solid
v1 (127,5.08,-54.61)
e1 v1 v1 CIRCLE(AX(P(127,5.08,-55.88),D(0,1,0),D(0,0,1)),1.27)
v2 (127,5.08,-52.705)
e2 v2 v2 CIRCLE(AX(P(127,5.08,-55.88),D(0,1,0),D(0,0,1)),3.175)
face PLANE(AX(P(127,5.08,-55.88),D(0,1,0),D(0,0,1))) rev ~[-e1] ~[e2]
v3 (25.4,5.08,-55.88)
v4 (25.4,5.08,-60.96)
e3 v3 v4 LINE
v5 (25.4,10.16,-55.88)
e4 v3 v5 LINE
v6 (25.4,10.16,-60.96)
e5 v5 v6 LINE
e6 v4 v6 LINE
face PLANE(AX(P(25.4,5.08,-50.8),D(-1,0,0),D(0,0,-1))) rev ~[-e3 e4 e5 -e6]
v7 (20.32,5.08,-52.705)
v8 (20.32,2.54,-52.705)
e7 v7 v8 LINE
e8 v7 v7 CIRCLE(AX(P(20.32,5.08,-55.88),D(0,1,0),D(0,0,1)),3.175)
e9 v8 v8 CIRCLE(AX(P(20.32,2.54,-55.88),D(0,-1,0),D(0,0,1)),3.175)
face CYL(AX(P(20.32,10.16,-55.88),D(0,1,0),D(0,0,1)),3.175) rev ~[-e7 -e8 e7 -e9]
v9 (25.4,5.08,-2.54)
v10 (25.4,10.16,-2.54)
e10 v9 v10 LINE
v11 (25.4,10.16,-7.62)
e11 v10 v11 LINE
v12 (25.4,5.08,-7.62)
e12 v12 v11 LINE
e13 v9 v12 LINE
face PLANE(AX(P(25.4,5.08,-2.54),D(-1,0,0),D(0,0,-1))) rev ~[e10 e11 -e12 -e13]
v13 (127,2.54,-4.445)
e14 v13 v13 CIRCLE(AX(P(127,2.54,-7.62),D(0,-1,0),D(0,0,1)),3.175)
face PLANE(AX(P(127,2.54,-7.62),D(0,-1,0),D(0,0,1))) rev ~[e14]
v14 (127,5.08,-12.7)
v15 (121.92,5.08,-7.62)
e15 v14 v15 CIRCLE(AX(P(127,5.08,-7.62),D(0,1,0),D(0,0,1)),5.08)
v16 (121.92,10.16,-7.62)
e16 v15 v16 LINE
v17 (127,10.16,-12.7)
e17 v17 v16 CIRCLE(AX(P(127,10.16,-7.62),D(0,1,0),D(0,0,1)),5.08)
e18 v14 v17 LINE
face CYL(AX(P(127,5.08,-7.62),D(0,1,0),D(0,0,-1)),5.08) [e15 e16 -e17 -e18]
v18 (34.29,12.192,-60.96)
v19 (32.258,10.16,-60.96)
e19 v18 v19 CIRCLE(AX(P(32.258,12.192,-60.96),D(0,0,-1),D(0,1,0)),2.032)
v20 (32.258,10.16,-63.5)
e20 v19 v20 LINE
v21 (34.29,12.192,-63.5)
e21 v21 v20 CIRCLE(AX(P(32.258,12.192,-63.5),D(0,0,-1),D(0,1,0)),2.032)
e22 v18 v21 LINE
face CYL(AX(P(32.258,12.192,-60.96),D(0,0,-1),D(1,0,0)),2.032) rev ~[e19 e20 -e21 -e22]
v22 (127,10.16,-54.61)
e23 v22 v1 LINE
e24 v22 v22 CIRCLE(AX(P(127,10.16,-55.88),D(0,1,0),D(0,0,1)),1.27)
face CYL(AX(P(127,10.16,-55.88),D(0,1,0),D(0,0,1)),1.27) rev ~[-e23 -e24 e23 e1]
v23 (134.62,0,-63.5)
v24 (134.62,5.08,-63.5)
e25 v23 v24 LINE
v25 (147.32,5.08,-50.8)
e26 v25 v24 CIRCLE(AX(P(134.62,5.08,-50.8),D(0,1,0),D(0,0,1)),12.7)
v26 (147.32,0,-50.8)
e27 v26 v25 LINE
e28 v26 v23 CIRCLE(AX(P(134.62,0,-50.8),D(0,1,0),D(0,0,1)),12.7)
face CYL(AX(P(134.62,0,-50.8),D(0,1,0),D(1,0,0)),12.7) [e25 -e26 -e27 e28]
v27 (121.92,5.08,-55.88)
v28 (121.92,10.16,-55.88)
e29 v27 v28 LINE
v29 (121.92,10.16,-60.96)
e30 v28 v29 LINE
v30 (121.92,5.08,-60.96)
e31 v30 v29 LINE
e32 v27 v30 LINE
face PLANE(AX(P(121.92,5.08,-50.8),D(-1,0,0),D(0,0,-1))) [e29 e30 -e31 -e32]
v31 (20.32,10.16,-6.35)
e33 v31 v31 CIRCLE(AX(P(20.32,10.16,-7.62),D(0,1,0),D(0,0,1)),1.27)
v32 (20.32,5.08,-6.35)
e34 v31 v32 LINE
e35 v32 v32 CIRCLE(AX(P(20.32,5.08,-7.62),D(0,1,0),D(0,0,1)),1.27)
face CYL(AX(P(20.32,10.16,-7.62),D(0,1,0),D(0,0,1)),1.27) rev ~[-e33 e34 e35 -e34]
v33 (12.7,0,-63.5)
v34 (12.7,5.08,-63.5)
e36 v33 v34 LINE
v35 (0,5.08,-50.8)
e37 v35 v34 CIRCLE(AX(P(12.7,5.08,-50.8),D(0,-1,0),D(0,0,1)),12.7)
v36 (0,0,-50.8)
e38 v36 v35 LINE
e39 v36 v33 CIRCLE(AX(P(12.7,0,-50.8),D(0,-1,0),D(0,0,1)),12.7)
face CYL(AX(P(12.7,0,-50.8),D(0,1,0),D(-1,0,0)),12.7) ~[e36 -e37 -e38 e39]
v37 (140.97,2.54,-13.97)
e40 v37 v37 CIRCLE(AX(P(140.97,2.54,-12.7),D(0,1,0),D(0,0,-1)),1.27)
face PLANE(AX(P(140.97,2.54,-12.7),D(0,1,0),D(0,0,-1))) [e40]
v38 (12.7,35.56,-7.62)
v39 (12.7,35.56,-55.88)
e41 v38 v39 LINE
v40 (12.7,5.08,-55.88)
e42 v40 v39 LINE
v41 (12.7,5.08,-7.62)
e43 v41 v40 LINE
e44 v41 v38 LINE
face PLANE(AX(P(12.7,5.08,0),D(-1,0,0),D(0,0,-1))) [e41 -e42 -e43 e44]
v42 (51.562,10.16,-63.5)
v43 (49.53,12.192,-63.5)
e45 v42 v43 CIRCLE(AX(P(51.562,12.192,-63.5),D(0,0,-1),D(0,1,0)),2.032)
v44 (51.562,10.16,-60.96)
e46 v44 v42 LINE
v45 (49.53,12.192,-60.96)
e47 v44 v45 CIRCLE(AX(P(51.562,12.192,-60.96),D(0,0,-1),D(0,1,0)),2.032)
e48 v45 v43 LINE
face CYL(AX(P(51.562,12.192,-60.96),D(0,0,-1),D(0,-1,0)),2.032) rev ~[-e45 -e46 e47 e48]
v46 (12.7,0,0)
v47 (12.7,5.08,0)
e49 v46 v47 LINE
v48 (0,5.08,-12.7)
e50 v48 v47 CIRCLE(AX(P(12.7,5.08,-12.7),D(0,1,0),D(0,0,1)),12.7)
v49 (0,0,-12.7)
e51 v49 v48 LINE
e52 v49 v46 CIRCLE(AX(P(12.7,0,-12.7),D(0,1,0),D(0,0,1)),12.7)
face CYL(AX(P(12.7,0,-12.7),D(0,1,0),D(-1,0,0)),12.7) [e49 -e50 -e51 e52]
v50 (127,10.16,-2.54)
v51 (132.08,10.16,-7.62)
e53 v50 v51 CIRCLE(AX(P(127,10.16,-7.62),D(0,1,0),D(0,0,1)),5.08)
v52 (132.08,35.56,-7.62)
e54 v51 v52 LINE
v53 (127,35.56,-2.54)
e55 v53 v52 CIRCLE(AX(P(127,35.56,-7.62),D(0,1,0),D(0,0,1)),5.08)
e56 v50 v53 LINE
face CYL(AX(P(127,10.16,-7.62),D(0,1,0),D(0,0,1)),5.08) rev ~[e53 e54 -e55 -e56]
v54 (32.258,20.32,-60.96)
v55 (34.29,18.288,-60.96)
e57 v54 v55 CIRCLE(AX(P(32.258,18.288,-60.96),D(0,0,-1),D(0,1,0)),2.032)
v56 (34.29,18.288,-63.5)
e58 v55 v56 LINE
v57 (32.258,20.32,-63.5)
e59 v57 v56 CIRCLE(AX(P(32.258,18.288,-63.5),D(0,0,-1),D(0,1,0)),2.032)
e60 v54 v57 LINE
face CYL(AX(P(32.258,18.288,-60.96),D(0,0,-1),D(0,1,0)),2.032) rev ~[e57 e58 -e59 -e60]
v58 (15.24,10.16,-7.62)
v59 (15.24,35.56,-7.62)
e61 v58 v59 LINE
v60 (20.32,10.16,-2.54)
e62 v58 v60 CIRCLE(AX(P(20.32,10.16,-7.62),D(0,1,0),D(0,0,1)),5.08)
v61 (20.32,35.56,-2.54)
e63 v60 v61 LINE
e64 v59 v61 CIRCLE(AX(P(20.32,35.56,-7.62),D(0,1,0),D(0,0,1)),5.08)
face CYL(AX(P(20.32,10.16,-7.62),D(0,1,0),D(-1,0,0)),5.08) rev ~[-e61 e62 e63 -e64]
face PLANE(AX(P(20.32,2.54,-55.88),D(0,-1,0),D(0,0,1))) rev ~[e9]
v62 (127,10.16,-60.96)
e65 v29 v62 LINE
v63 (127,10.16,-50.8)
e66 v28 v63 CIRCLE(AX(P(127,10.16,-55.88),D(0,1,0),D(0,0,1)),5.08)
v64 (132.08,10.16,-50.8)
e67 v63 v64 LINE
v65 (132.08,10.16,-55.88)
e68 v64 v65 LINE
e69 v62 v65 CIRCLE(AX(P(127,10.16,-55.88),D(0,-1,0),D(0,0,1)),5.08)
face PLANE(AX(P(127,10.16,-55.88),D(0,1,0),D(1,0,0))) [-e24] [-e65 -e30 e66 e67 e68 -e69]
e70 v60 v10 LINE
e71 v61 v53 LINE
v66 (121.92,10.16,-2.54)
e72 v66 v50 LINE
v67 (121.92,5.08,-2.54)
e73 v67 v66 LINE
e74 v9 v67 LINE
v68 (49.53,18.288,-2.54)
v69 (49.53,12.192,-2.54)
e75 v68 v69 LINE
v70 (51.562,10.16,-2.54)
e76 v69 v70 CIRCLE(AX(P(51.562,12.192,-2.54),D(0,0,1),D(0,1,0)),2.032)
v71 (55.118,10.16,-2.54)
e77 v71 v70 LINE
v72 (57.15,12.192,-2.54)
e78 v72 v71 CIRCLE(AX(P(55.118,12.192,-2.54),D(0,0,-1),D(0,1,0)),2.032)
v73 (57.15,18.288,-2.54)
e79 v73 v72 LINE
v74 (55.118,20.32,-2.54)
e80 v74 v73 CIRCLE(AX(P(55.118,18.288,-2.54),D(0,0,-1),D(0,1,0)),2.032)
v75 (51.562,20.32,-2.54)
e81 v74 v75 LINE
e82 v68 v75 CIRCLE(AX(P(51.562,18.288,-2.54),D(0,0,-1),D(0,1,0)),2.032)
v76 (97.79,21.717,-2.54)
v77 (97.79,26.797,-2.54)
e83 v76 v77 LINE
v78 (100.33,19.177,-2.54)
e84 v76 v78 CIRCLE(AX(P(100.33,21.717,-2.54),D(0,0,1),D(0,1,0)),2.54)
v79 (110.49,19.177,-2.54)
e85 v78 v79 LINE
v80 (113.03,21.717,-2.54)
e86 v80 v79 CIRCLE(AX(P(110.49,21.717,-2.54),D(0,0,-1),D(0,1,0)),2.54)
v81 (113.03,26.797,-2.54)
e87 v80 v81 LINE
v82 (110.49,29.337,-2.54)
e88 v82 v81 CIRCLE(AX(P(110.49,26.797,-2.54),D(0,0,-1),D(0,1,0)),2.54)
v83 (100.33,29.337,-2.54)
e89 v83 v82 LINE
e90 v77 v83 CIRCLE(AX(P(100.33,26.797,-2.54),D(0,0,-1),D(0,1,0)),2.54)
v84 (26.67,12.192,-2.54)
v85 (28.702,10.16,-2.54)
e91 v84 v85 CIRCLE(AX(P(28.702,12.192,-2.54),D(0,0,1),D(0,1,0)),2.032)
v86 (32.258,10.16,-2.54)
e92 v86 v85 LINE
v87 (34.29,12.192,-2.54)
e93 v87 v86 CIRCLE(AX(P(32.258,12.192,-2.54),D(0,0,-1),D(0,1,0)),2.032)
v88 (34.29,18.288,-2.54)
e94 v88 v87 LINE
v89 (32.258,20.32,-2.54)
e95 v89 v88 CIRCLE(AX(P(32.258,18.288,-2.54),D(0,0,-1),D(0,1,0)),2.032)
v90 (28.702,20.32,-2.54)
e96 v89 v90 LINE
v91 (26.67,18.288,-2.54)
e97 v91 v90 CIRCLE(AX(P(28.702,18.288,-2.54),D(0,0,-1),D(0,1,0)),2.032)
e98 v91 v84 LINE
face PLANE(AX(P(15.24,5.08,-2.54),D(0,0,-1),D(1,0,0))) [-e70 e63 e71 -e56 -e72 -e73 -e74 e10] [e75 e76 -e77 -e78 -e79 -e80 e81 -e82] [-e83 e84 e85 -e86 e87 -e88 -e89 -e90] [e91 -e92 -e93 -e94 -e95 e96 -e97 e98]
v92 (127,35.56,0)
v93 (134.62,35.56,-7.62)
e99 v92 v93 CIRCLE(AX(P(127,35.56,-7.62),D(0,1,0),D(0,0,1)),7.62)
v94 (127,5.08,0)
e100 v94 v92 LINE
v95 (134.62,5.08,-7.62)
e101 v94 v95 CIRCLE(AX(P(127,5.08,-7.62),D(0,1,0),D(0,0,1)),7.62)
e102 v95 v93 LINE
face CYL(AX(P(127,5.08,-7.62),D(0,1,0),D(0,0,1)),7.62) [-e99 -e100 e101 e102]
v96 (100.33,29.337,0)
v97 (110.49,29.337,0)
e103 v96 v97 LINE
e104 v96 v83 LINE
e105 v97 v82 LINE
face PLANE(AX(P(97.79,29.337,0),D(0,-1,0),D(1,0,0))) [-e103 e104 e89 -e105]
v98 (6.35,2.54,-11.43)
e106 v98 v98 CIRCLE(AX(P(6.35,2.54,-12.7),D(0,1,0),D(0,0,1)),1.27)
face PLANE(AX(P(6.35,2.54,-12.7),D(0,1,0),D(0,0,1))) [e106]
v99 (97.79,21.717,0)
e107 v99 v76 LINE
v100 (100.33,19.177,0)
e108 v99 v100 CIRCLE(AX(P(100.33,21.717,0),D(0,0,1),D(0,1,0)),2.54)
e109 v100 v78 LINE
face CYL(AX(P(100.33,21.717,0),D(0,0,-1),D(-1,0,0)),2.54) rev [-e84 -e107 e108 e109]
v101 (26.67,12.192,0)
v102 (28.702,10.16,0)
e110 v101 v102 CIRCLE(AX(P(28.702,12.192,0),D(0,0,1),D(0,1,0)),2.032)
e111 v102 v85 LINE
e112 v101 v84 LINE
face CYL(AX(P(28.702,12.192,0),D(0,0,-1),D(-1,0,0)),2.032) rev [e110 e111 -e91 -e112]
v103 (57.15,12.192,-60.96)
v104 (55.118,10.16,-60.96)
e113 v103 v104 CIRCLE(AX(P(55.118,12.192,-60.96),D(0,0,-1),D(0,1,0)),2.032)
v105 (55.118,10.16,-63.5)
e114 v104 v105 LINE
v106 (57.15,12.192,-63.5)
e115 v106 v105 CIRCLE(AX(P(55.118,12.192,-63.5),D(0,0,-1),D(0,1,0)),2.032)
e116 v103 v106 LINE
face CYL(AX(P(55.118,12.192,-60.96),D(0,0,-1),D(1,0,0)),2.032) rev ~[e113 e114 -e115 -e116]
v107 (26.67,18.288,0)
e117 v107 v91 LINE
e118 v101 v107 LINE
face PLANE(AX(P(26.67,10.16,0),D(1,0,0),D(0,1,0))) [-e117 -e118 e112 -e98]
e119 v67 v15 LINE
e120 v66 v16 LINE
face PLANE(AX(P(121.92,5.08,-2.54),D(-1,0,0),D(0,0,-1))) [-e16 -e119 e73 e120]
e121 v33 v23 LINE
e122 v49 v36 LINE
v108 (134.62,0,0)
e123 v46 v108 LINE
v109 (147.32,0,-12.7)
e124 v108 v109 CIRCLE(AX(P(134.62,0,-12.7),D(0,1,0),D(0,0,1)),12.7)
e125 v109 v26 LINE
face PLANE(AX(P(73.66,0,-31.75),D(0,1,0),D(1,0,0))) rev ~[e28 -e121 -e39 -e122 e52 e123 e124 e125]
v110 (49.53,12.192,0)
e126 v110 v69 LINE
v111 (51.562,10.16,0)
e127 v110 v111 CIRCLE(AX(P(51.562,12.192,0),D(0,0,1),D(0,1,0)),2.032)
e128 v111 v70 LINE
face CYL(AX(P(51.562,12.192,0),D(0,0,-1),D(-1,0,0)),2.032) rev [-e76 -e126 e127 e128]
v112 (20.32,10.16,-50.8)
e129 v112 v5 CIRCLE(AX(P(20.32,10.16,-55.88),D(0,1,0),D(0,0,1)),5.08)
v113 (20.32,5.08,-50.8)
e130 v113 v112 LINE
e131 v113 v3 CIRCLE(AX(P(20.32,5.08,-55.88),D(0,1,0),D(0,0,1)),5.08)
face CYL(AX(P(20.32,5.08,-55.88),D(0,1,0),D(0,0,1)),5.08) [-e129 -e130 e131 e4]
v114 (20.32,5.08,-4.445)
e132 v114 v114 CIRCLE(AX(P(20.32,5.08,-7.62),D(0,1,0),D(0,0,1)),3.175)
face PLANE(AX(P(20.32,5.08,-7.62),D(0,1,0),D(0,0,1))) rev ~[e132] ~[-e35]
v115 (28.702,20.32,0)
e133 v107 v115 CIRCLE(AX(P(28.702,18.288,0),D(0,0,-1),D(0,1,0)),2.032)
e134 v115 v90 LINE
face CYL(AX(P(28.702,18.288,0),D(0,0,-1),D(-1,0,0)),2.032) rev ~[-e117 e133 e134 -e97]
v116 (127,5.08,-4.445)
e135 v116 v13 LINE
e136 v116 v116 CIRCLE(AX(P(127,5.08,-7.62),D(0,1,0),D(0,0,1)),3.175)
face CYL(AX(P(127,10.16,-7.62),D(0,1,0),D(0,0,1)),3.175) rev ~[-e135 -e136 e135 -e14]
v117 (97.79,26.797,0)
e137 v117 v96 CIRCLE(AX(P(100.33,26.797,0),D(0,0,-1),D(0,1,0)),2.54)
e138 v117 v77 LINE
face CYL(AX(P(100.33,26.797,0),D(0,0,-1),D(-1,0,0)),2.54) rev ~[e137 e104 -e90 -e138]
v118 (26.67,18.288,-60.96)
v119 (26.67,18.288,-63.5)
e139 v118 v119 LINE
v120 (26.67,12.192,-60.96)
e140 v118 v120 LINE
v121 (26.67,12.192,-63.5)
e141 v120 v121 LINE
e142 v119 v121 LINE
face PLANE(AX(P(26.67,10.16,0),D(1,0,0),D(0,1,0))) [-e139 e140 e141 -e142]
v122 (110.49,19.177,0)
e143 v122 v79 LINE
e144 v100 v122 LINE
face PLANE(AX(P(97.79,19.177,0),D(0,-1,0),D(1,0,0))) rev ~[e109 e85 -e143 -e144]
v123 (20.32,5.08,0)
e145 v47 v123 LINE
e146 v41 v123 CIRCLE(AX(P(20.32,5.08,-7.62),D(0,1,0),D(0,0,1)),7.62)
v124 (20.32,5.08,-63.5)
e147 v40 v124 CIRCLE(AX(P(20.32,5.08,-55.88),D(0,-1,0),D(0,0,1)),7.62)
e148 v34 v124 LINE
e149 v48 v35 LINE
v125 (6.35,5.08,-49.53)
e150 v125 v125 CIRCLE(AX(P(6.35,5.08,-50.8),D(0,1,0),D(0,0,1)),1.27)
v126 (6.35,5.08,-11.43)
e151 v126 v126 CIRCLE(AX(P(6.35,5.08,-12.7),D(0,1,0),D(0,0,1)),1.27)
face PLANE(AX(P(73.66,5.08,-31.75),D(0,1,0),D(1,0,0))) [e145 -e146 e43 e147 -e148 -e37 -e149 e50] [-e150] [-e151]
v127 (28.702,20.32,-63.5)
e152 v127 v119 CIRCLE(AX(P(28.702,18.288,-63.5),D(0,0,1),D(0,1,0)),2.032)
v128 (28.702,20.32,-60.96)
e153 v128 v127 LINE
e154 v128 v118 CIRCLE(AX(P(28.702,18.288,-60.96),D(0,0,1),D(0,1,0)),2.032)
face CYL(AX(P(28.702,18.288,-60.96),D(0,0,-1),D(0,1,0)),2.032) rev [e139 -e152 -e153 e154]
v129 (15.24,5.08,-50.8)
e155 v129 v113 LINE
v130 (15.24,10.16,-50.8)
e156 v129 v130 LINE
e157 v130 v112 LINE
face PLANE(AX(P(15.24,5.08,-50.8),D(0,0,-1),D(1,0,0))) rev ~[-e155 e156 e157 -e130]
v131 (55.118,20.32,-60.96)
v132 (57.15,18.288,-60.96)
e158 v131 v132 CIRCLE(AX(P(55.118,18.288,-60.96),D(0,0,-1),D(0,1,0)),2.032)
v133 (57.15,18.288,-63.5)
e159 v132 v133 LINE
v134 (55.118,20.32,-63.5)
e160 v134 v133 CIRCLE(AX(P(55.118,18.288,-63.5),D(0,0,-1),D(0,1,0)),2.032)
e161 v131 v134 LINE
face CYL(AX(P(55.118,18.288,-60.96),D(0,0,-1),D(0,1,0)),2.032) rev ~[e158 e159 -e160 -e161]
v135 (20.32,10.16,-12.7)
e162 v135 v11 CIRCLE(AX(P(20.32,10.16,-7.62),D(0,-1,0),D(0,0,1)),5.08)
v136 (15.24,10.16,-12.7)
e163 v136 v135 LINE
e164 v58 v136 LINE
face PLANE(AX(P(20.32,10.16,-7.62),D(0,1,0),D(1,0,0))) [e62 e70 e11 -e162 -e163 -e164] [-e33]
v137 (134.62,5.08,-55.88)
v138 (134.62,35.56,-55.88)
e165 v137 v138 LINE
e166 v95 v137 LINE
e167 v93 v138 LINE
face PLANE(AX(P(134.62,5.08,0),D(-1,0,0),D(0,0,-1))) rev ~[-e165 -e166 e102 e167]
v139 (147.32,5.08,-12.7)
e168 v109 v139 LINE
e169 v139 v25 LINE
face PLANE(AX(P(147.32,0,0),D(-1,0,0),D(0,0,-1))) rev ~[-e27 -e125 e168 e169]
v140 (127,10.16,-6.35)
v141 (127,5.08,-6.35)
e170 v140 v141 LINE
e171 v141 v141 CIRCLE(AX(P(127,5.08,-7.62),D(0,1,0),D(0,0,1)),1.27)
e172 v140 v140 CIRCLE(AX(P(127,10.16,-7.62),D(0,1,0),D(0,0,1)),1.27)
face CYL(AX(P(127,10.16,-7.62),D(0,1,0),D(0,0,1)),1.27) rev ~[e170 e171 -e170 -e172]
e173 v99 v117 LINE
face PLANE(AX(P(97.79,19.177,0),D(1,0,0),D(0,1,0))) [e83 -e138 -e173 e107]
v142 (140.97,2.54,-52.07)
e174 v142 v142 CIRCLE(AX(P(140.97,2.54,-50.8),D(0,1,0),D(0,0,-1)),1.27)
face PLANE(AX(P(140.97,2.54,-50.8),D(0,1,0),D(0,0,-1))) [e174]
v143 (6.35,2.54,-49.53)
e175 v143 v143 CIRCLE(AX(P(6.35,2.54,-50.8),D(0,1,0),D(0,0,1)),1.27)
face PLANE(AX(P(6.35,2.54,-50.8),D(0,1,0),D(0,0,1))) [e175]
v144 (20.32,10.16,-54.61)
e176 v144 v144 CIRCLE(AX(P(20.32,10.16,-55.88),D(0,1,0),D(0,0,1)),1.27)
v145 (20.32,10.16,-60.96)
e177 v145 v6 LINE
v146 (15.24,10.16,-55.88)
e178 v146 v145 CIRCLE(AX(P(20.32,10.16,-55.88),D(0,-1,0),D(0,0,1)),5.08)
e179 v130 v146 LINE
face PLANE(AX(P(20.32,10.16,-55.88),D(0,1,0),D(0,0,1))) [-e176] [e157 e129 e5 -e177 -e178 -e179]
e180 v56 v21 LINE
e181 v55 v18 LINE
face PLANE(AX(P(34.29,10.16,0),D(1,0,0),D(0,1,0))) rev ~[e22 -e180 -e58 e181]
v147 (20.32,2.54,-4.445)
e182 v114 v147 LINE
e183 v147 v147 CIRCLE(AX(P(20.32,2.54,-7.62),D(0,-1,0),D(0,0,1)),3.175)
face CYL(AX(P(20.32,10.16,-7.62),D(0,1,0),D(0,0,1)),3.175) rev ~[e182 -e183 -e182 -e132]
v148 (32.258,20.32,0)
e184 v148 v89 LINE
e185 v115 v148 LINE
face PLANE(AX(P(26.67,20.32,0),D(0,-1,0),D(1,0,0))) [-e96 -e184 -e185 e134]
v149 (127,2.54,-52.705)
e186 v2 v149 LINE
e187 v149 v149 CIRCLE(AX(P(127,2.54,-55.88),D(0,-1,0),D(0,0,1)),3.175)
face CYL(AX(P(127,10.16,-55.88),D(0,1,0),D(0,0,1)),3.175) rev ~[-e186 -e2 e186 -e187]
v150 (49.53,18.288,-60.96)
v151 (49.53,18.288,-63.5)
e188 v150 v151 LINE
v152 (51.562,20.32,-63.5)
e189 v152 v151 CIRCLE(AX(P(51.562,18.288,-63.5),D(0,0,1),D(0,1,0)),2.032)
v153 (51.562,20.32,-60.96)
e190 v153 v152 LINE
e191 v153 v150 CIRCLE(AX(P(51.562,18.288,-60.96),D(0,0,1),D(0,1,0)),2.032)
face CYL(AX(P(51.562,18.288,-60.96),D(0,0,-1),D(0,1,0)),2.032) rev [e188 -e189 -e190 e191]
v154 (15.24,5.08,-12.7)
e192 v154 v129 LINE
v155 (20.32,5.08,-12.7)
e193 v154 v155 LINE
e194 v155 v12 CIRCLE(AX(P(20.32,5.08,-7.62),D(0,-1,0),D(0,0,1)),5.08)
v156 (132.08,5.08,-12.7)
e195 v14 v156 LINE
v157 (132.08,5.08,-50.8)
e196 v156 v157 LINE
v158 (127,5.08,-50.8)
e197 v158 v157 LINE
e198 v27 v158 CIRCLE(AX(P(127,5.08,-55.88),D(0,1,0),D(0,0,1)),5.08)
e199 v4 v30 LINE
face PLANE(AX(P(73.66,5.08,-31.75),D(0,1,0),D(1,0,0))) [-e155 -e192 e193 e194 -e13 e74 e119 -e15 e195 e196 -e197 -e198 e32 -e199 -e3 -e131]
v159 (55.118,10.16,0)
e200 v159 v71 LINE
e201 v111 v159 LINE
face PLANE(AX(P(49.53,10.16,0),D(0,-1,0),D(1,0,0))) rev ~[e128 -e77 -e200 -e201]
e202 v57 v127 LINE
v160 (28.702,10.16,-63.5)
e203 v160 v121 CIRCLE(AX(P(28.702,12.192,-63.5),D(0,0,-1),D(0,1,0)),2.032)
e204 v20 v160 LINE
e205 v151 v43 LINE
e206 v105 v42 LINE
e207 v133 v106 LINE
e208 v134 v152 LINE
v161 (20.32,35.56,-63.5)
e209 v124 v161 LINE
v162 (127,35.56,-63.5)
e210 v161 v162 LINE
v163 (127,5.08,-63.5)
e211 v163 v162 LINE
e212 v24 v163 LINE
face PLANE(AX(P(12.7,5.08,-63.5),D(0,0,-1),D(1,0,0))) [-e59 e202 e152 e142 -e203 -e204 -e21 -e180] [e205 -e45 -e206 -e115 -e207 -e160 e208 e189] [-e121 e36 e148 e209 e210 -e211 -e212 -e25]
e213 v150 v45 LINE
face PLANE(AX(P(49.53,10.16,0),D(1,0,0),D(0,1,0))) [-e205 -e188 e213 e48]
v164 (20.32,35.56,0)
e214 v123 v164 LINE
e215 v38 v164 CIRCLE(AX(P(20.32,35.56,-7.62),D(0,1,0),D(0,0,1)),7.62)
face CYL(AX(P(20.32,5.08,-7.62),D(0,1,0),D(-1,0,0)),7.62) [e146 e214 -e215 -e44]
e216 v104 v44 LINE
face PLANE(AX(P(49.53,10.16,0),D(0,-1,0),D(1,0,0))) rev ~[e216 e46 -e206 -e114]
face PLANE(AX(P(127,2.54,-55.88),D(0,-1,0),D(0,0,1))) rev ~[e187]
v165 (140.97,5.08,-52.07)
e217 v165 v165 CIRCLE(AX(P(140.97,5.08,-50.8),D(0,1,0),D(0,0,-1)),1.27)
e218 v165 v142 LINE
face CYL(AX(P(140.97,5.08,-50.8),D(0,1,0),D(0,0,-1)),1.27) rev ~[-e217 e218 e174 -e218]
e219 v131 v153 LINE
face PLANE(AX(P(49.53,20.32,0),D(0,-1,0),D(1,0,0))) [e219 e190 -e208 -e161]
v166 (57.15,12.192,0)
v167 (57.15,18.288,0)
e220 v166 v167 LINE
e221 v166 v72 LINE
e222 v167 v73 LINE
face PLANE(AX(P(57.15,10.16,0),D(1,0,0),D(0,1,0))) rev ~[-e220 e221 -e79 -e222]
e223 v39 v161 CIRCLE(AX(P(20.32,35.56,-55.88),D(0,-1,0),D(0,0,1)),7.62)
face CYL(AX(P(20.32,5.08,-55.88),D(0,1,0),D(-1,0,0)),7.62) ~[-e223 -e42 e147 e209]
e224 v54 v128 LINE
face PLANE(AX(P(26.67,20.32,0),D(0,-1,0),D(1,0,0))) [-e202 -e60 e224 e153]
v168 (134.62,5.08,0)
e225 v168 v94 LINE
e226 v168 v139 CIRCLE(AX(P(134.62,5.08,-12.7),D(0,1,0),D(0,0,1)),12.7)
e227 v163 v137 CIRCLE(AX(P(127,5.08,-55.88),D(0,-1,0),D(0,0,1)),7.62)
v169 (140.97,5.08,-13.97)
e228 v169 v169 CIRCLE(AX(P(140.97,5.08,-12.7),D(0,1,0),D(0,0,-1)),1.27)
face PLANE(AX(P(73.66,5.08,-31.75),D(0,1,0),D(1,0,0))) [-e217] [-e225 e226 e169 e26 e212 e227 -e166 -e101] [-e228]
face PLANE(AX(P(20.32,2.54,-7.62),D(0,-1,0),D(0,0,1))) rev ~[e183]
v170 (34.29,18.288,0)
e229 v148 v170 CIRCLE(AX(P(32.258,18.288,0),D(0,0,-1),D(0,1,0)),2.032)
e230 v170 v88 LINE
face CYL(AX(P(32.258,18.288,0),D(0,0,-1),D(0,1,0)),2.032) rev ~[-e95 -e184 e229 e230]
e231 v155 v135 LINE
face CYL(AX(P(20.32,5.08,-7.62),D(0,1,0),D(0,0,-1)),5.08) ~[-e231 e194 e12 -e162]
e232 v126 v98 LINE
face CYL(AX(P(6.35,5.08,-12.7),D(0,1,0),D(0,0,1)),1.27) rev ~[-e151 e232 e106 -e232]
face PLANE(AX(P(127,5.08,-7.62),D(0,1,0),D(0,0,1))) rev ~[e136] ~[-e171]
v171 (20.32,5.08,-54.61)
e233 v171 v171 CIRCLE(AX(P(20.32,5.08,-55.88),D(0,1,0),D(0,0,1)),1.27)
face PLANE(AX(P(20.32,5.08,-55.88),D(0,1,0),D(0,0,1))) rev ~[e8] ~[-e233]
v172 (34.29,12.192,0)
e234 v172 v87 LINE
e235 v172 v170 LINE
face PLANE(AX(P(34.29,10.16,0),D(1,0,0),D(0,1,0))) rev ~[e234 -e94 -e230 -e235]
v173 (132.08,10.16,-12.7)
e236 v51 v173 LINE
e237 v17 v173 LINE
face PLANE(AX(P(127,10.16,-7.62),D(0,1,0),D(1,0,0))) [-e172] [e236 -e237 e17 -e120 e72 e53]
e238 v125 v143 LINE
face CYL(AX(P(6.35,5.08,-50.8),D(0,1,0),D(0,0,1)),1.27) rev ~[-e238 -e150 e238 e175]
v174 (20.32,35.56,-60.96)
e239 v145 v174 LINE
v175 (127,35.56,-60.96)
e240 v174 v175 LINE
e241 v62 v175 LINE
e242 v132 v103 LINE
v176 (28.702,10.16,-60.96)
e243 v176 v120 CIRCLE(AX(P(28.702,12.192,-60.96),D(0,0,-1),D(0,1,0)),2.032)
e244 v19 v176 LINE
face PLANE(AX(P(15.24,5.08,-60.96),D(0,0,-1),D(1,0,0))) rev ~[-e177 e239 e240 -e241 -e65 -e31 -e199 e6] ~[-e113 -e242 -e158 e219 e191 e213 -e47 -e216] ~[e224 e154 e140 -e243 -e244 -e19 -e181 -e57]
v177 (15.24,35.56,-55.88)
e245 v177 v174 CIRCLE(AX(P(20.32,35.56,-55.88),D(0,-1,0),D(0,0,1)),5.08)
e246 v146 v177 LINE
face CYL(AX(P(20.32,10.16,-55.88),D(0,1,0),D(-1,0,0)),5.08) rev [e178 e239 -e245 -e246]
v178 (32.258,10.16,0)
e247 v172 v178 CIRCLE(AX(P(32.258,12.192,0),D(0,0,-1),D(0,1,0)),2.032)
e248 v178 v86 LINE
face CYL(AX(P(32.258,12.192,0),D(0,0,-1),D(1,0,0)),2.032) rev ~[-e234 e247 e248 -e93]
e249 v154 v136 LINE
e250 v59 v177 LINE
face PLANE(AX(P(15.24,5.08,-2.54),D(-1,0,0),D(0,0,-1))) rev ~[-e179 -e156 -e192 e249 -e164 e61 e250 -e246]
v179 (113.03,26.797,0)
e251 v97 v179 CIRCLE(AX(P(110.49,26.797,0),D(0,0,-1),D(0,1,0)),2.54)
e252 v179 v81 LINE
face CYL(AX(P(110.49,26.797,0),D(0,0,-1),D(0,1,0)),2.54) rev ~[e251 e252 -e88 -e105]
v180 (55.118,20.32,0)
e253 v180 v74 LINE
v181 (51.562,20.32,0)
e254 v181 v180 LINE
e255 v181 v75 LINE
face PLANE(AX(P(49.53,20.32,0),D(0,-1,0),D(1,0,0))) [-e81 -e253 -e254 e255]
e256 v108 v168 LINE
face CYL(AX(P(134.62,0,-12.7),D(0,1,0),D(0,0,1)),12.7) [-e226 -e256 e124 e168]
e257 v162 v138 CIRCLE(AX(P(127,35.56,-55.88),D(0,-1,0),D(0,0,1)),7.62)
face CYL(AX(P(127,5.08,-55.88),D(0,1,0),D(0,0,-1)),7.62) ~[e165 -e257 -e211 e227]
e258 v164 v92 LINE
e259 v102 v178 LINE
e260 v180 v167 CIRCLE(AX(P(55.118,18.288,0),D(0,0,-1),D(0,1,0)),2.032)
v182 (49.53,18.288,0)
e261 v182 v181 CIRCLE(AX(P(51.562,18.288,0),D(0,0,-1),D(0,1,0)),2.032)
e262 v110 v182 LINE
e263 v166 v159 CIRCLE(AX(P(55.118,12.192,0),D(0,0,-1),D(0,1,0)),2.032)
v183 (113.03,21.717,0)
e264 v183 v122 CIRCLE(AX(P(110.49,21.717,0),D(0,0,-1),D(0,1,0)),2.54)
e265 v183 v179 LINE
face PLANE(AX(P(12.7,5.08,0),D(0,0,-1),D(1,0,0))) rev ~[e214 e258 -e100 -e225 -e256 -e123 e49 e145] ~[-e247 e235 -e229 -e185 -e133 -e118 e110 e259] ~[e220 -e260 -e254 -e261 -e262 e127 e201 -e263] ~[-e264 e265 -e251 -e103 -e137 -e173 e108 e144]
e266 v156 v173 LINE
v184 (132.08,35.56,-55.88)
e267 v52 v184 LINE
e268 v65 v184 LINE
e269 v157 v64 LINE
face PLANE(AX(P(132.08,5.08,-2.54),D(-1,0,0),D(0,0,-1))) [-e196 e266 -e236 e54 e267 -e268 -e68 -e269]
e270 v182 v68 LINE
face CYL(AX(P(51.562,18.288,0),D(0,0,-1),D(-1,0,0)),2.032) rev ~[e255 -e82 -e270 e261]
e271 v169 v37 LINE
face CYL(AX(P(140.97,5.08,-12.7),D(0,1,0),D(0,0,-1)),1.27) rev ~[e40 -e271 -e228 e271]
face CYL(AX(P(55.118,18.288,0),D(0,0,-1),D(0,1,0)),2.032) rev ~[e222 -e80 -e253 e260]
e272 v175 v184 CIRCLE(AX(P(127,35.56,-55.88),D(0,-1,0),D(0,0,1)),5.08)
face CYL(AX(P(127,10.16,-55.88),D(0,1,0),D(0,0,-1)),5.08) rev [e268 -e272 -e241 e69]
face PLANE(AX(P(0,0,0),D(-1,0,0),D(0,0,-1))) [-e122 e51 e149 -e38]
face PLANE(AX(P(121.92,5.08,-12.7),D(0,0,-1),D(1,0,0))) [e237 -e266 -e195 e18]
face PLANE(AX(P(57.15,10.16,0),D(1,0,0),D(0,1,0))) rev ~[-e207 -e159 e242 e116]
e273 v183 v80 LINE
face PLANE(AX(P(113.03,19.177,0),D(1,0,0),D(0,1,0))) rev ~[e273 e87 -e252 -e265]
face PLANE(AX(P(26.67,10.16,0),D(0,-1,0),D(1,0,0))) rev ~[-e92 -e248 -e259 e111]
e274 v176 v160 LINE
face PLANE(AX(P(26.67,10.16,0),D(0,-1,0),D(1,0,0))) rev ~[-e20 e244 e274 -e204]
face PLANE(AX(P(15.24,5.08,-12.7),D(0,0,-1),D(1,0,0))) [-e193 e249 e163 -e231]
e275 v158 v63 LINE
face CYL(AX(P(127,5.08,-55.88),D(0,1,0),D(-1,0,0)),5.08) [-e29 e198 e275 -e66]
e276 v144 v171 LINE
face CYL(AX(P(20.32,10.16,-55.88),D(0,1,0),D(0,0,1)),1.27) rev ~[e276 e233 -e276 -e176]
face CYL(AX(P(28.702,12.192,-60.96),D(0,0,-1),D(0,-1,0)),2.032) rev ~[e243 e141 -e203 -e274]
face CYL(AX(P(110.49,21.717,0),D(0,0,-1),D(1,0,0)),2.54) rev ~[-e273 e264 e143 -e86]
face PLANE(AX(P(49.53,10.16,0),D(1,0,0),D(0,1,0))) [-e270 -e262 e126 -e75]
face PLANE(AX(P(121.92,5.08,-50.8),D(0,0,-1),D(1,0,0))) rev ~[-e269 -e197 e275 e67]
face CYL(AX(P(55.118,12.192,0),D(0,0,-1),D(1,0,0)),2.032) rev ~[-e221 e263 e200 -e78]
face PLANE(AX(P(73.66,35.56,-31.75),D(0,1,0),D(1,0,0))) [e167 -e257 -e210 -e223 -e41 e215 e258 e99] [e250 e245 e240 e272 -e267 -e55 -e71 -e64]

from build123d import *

# Parameters (mm, degrees)
SKETCH1_W           = 147.32
SKETCH1_H           = 63.5
BOSS_EXTRUDE3_DEPTH = 5.08
FILLET4_R           = 12.7
SKETCH4_W           = 121.92
SKETCH4_H           = 63.5
SKETCH4_W_2         = 116.84
SKETCH4_H_2         = 58.42
BOSS_EXTRUDE4_DEPTH = 30.48
SKETCH9_W           = 10.16
SKETCH9_H           = 10.16
BOSS_EXTRUDE5_DEPTH = 5.08
FILLET9_R           = 5.08
SKETCH10_R          = 3.175
CUT_EXTRUDE7_DEPTH  = 163.421034352
FILLET11_R          = 5.08
FILLET12_R          = 7.62
CUT_EXTRUDE8_REACH  = 166.317
SKETCH12_W          = 15.24
SKETCH12_H          = 10.16
FILLET13_R          = 2.54
SKETCH13_W          = 7.62
SKETCH13_H          = 10.16
CUT_EXTRUDE9_DEPTH  = 165.316602935
FILLET14_R          = 2.032
SKETCH11_R          = 3.175
SKETCH11_R_2        = 1.27
BOSS_EXTRUDE7_DEPTH = 5.08
SKETCH15_R          = 1.27
CUT_EXTRUDE10_DEPTH = 2.54
BOSS_EXTRUDE9_START = -2.54
SKETCH16_R          = 3.175
BOSS_EXTRUDE9_DEPTH = 2.54


with BuildPart() as part:
    # Sketch1 → Boss-Extrude3 (new body)
    with BuildSketch(Plane(origin=(0, 0, 0), x_dir=(1, 0, 0), z_dir=(0, 1, 0))):
        with Locations((73.66, 31.75)):
            Rectangle(SKETCH1_W, SKETCH1_H)
    extrude(amount=BOSS_EXTRUDE3_DEPTH)

    # Fillet4
    fillet4_edges = [part.edges().sort_by_distance(p)[0] for p in [
        (147.32, 2.54, -63.5),
        (147.32, 2.54, 0),
        (0, 2.54, 0),
        (0, 2.54, -63.5),
    ]]
    fillet(fillet4_edges, radius=FILLET4_R)

    # Sketch4 → Boss-Extrude4 (add)
    with BuildSketch(Plane(origin=(0, 5.08, 0), x_dir=(1, 0, 0), z_dir=(0, 1, 0))):
        with Locations((73.66, 31.75)):
            Rectangle(SKETCH4_W, SKETCH4_H)
        with Locations((73.66, 31.75)):
            Rectangle(SKETCH4_W_2, SKETCH4_H_2, mode=Mode.SUBTRACT)
    extrude(amount=BOSS_EXTRUDE4_DEPTH)

    # Sketch9 → Boss-Extrude5 (add)
    with BuildSketch(Plane(origin=(0, 5.08, 0), x_dir=(1, 0, 0), z_dir=(0, 1, 0))):
        with Locations((20.32, 55.88)):
            Rectangle(SKETCH9_W, SKETCH9_H)
        with Locations((127, 55.88)):
            Rectangle(SKETCH9_W, SKETCH9_H)
        with Locations((127, 7.62)):
            Rectangle(SKETCH9_W, SKETCH9_H)
        with Locations((20.32, 7.62)):
            Rectangle(SKETCH9_W, SKETCH9_H)
    extrude(amount=BOSS_EXTRUDE5_DEPTH)

    # Fillet9
    fillet9_edges = [part.edges().sort_by_distance(p)[0] for p in [
        (121.92, 7.62, -12.7),
        (25.4, 7.62, -12.7),
        (121.92, 7.62, -50.8),
        (25.4, 7.62, -50.8),
    ]]
    fillet(fillet9_edges, radius=FILLET9_R)

    # Sketch10 → Cut-Extrude7 (cut, through all)
    with BuildSketch(Plane(origin=(0, 10.16, 0), x_dir=(1, 0, 0), z_dir=(0, 1, 0))):
        with Locations((20.32, 55.88)):
            Circle(SKETCH10_R)
        with Locations((127, 55.88)):
            Circle(SKETCH10_R)
        with Locations((20.32, 7.62)):
            Circle(SKETCH10_R)
        with Locations((127, 7.62)):
            Circle(SKETCH10_R)
    extrude(amount=-CUT_EXTRUDE7_DEPTH, mode=Mode.SUBTRACT)

    # Fillet11
    fillet11_edges = [part.edges().sort_by_distance(p)[0] for p in [
        (132.08, 22.86, -2.54),
        (15.24, 22.86, -2.54),
        (132.08, 22.86, -60.96),
        (15.24, 22.86, -60.96),
    ]]
    fillet(fillet11_edges, radius=FILLET11_R)

    # Fillet12
    fillet12_edges = [part.edges().sort_by_distance(p)[0] for p in [
        (134.62, 20.32, 0),
        (134.62, 20.32, -63.5),
        (12.7, 20.32, -63.5),
        (12.7, 20.32, 0),
    ]]
    fillet(fillet12_edges, radius=FILLET12_R)

    # Sketch12 → Cut-Extrude8 (cut, up to next)
    with BuildSketch(Plane.XY, mode=Mode.PRIVATE) as cut_extrude8_sk1:
        with Locations((105.41, 24.257)):
            Rectangle(SKETCH12_W, SKETCH12_H)
    cut_extrude8_tool1 = extrude(cut_extrude8_sk1.sketch, amount=-CUT_EXTRUDE8_REACH, mode=Mode.PRIVATE) & part.part
    add(cut_extrude8_tool1.solids().sort_by_distance((105.41, 24.257, 0))[0], mode=Mode.SUBTRACT)

    # Fillet13
    fillet13_edges = [part.edges().sort_by_distance(p)[0] for p in [
        (97.79, 19.177, -1.27),
        (97.79, 29.337, -1.27),
        (113.03, 29.337, -1.27),
        (113.03, 19.177, -1.27),
    ]]
    fillet(fillet13_edges, radius=FILLET13_R)

    # Sketch13 → Cut-Extrude9 (cut, through all)
    with BuildSketch(Plane.XY):
        with Locations((30.48, 15.24)):
            Rectangle(SKETCH13_W, SKETCH13_H)
        with Locations((53.34, 15.24)):
            Rectangle(SKETCH13_W, SKETCH13_H)
    extrude(amount=-CUT_EXTRUDE9_DEPTH, mode=Mode.SUBTRACT)

    # Fillet14
    fillet14_edges = [part.edges().sort_by_distance(p)[0] for p in [
        (34.29, 10.16, -62.23),
        (57.15, 10.16, -62.23),
        (34.29, 20.32, -62.23),
        (57.15, 20.32, -62.23),
        (26.67, 20.32, -62.23),
        (49.53, 20.32, -62.23),
        (49.53, 10.16, -62.23),
        (26.67, 10.16, -62.23),
        (49.53, 10.16, -1.27),
        (26.67, 10.16, -1.27),
        (49.53, 20.32, -1.27),
        (26.67, 20.32, -1.27),
        (57.15, 20.32, -1.27),
        (34.29, 20.32, -1.27),
        (57.15, 10.16, -1.27),
        (34.29, 10.16, -1.27),
    ]]
    fillet(fillet14_edges, radius=FILLET14_R)

    # Sketch11 → Boss-Extrude7 (add)
    # profile 1 of 4: a face of its own
    with BuildSketch(Plane(origin=(0, 10.16, 0), x_dir=(1, 0, 0), z_dir=(0, 1, 0))):
        with Locations((20.32, 55.88)):
            Circle(SKETCH11_R)
        with Locations((20.32, 55.88)):
            Circle(SKETCH11_R_2, mode=Mode.SUBTRACT)
    # profile 2 of 4: a face of its own
    with BuildSketch(Plane(origin=(0, 10.16, 0), x_dir=(1, 0, 0), z_dir=(0, 1, 0))):
        with Locations((127, 55.88)):
            Circle(SKETCH11_R)
        with Locations((127, 55.88)):
            Circle(SKETCH11_R_2, mode=Mode.SUBTRACT)
    # profile 3 of 4: a face of its own
    with BuildSketch(Plane(origin=(0, 10.16, 0), x_dir=(1, 0, 0), z_dir=(0, 1, 0))):
        with Locations((20.32, 7.62)):
            Circle(SKETCH11_R)
        with Locations((20.32, 7.62)):
            Circle(SKETCH11_R_2, mode=Mode.SUBTRACT)
    # profile 4 of 4: a face of its own
    with BuildSketch(Plane(origin=(0, 10.16, 0), x_dir=(1, 0, 0), z_dir=(0, 1, 0))):
        with Locations((127, 7.62)):
            Circle(SKETCH11_R)
        with Locations((127, 7.62)):
            Circle(SKETCH11_R_2, mode=Mode.SUBTRACT)
    extrude(amount=-BOSS_EXTRUDE7_DEPTH)

    # Sketch15 → Cut-Extrude10 (cut)
    with BuildSketch(Plane(origin=(0, 5.08, 0), x_dir=(1, 0, 0), z_dir=(0, 1, 0))):
        with Locations((6.35, 50.8)):
            Circle(SKETCH15_R)
        with Locations((6.35, 12.7)):
            Circle(SKETCH15_R)
        with Locations((140.97, 12.7)):
            Circle(SKETCH15_R)
        with Locations((140.97, 50.8)):
            Circle(SKETCH15_R)
    extrude(amount=-CUT_EXTRUDE10_DEPTH, mode=Mode.SUBTRACT)

    # Sketch16 → Boss-Extrude9 (add)
    with BuildSketch(Plane.XZ.offset(BOSS_EXTRUDE9_START)):
        with Locations((20.32, -7.62)):
            Circle(SKETCH16_R)
        with Locations((127, -7.62)):
            Circle(SKETCH16_R)
        with Locations((20.32, -55.88)):
            Circle(SKETCH16_R)
        with Locations((127, -55.88)):
            Circle(SKETCH16_R)
    extrude(amount=BOSS_EXTRUDE9_DEPTH)


solid = part.part
